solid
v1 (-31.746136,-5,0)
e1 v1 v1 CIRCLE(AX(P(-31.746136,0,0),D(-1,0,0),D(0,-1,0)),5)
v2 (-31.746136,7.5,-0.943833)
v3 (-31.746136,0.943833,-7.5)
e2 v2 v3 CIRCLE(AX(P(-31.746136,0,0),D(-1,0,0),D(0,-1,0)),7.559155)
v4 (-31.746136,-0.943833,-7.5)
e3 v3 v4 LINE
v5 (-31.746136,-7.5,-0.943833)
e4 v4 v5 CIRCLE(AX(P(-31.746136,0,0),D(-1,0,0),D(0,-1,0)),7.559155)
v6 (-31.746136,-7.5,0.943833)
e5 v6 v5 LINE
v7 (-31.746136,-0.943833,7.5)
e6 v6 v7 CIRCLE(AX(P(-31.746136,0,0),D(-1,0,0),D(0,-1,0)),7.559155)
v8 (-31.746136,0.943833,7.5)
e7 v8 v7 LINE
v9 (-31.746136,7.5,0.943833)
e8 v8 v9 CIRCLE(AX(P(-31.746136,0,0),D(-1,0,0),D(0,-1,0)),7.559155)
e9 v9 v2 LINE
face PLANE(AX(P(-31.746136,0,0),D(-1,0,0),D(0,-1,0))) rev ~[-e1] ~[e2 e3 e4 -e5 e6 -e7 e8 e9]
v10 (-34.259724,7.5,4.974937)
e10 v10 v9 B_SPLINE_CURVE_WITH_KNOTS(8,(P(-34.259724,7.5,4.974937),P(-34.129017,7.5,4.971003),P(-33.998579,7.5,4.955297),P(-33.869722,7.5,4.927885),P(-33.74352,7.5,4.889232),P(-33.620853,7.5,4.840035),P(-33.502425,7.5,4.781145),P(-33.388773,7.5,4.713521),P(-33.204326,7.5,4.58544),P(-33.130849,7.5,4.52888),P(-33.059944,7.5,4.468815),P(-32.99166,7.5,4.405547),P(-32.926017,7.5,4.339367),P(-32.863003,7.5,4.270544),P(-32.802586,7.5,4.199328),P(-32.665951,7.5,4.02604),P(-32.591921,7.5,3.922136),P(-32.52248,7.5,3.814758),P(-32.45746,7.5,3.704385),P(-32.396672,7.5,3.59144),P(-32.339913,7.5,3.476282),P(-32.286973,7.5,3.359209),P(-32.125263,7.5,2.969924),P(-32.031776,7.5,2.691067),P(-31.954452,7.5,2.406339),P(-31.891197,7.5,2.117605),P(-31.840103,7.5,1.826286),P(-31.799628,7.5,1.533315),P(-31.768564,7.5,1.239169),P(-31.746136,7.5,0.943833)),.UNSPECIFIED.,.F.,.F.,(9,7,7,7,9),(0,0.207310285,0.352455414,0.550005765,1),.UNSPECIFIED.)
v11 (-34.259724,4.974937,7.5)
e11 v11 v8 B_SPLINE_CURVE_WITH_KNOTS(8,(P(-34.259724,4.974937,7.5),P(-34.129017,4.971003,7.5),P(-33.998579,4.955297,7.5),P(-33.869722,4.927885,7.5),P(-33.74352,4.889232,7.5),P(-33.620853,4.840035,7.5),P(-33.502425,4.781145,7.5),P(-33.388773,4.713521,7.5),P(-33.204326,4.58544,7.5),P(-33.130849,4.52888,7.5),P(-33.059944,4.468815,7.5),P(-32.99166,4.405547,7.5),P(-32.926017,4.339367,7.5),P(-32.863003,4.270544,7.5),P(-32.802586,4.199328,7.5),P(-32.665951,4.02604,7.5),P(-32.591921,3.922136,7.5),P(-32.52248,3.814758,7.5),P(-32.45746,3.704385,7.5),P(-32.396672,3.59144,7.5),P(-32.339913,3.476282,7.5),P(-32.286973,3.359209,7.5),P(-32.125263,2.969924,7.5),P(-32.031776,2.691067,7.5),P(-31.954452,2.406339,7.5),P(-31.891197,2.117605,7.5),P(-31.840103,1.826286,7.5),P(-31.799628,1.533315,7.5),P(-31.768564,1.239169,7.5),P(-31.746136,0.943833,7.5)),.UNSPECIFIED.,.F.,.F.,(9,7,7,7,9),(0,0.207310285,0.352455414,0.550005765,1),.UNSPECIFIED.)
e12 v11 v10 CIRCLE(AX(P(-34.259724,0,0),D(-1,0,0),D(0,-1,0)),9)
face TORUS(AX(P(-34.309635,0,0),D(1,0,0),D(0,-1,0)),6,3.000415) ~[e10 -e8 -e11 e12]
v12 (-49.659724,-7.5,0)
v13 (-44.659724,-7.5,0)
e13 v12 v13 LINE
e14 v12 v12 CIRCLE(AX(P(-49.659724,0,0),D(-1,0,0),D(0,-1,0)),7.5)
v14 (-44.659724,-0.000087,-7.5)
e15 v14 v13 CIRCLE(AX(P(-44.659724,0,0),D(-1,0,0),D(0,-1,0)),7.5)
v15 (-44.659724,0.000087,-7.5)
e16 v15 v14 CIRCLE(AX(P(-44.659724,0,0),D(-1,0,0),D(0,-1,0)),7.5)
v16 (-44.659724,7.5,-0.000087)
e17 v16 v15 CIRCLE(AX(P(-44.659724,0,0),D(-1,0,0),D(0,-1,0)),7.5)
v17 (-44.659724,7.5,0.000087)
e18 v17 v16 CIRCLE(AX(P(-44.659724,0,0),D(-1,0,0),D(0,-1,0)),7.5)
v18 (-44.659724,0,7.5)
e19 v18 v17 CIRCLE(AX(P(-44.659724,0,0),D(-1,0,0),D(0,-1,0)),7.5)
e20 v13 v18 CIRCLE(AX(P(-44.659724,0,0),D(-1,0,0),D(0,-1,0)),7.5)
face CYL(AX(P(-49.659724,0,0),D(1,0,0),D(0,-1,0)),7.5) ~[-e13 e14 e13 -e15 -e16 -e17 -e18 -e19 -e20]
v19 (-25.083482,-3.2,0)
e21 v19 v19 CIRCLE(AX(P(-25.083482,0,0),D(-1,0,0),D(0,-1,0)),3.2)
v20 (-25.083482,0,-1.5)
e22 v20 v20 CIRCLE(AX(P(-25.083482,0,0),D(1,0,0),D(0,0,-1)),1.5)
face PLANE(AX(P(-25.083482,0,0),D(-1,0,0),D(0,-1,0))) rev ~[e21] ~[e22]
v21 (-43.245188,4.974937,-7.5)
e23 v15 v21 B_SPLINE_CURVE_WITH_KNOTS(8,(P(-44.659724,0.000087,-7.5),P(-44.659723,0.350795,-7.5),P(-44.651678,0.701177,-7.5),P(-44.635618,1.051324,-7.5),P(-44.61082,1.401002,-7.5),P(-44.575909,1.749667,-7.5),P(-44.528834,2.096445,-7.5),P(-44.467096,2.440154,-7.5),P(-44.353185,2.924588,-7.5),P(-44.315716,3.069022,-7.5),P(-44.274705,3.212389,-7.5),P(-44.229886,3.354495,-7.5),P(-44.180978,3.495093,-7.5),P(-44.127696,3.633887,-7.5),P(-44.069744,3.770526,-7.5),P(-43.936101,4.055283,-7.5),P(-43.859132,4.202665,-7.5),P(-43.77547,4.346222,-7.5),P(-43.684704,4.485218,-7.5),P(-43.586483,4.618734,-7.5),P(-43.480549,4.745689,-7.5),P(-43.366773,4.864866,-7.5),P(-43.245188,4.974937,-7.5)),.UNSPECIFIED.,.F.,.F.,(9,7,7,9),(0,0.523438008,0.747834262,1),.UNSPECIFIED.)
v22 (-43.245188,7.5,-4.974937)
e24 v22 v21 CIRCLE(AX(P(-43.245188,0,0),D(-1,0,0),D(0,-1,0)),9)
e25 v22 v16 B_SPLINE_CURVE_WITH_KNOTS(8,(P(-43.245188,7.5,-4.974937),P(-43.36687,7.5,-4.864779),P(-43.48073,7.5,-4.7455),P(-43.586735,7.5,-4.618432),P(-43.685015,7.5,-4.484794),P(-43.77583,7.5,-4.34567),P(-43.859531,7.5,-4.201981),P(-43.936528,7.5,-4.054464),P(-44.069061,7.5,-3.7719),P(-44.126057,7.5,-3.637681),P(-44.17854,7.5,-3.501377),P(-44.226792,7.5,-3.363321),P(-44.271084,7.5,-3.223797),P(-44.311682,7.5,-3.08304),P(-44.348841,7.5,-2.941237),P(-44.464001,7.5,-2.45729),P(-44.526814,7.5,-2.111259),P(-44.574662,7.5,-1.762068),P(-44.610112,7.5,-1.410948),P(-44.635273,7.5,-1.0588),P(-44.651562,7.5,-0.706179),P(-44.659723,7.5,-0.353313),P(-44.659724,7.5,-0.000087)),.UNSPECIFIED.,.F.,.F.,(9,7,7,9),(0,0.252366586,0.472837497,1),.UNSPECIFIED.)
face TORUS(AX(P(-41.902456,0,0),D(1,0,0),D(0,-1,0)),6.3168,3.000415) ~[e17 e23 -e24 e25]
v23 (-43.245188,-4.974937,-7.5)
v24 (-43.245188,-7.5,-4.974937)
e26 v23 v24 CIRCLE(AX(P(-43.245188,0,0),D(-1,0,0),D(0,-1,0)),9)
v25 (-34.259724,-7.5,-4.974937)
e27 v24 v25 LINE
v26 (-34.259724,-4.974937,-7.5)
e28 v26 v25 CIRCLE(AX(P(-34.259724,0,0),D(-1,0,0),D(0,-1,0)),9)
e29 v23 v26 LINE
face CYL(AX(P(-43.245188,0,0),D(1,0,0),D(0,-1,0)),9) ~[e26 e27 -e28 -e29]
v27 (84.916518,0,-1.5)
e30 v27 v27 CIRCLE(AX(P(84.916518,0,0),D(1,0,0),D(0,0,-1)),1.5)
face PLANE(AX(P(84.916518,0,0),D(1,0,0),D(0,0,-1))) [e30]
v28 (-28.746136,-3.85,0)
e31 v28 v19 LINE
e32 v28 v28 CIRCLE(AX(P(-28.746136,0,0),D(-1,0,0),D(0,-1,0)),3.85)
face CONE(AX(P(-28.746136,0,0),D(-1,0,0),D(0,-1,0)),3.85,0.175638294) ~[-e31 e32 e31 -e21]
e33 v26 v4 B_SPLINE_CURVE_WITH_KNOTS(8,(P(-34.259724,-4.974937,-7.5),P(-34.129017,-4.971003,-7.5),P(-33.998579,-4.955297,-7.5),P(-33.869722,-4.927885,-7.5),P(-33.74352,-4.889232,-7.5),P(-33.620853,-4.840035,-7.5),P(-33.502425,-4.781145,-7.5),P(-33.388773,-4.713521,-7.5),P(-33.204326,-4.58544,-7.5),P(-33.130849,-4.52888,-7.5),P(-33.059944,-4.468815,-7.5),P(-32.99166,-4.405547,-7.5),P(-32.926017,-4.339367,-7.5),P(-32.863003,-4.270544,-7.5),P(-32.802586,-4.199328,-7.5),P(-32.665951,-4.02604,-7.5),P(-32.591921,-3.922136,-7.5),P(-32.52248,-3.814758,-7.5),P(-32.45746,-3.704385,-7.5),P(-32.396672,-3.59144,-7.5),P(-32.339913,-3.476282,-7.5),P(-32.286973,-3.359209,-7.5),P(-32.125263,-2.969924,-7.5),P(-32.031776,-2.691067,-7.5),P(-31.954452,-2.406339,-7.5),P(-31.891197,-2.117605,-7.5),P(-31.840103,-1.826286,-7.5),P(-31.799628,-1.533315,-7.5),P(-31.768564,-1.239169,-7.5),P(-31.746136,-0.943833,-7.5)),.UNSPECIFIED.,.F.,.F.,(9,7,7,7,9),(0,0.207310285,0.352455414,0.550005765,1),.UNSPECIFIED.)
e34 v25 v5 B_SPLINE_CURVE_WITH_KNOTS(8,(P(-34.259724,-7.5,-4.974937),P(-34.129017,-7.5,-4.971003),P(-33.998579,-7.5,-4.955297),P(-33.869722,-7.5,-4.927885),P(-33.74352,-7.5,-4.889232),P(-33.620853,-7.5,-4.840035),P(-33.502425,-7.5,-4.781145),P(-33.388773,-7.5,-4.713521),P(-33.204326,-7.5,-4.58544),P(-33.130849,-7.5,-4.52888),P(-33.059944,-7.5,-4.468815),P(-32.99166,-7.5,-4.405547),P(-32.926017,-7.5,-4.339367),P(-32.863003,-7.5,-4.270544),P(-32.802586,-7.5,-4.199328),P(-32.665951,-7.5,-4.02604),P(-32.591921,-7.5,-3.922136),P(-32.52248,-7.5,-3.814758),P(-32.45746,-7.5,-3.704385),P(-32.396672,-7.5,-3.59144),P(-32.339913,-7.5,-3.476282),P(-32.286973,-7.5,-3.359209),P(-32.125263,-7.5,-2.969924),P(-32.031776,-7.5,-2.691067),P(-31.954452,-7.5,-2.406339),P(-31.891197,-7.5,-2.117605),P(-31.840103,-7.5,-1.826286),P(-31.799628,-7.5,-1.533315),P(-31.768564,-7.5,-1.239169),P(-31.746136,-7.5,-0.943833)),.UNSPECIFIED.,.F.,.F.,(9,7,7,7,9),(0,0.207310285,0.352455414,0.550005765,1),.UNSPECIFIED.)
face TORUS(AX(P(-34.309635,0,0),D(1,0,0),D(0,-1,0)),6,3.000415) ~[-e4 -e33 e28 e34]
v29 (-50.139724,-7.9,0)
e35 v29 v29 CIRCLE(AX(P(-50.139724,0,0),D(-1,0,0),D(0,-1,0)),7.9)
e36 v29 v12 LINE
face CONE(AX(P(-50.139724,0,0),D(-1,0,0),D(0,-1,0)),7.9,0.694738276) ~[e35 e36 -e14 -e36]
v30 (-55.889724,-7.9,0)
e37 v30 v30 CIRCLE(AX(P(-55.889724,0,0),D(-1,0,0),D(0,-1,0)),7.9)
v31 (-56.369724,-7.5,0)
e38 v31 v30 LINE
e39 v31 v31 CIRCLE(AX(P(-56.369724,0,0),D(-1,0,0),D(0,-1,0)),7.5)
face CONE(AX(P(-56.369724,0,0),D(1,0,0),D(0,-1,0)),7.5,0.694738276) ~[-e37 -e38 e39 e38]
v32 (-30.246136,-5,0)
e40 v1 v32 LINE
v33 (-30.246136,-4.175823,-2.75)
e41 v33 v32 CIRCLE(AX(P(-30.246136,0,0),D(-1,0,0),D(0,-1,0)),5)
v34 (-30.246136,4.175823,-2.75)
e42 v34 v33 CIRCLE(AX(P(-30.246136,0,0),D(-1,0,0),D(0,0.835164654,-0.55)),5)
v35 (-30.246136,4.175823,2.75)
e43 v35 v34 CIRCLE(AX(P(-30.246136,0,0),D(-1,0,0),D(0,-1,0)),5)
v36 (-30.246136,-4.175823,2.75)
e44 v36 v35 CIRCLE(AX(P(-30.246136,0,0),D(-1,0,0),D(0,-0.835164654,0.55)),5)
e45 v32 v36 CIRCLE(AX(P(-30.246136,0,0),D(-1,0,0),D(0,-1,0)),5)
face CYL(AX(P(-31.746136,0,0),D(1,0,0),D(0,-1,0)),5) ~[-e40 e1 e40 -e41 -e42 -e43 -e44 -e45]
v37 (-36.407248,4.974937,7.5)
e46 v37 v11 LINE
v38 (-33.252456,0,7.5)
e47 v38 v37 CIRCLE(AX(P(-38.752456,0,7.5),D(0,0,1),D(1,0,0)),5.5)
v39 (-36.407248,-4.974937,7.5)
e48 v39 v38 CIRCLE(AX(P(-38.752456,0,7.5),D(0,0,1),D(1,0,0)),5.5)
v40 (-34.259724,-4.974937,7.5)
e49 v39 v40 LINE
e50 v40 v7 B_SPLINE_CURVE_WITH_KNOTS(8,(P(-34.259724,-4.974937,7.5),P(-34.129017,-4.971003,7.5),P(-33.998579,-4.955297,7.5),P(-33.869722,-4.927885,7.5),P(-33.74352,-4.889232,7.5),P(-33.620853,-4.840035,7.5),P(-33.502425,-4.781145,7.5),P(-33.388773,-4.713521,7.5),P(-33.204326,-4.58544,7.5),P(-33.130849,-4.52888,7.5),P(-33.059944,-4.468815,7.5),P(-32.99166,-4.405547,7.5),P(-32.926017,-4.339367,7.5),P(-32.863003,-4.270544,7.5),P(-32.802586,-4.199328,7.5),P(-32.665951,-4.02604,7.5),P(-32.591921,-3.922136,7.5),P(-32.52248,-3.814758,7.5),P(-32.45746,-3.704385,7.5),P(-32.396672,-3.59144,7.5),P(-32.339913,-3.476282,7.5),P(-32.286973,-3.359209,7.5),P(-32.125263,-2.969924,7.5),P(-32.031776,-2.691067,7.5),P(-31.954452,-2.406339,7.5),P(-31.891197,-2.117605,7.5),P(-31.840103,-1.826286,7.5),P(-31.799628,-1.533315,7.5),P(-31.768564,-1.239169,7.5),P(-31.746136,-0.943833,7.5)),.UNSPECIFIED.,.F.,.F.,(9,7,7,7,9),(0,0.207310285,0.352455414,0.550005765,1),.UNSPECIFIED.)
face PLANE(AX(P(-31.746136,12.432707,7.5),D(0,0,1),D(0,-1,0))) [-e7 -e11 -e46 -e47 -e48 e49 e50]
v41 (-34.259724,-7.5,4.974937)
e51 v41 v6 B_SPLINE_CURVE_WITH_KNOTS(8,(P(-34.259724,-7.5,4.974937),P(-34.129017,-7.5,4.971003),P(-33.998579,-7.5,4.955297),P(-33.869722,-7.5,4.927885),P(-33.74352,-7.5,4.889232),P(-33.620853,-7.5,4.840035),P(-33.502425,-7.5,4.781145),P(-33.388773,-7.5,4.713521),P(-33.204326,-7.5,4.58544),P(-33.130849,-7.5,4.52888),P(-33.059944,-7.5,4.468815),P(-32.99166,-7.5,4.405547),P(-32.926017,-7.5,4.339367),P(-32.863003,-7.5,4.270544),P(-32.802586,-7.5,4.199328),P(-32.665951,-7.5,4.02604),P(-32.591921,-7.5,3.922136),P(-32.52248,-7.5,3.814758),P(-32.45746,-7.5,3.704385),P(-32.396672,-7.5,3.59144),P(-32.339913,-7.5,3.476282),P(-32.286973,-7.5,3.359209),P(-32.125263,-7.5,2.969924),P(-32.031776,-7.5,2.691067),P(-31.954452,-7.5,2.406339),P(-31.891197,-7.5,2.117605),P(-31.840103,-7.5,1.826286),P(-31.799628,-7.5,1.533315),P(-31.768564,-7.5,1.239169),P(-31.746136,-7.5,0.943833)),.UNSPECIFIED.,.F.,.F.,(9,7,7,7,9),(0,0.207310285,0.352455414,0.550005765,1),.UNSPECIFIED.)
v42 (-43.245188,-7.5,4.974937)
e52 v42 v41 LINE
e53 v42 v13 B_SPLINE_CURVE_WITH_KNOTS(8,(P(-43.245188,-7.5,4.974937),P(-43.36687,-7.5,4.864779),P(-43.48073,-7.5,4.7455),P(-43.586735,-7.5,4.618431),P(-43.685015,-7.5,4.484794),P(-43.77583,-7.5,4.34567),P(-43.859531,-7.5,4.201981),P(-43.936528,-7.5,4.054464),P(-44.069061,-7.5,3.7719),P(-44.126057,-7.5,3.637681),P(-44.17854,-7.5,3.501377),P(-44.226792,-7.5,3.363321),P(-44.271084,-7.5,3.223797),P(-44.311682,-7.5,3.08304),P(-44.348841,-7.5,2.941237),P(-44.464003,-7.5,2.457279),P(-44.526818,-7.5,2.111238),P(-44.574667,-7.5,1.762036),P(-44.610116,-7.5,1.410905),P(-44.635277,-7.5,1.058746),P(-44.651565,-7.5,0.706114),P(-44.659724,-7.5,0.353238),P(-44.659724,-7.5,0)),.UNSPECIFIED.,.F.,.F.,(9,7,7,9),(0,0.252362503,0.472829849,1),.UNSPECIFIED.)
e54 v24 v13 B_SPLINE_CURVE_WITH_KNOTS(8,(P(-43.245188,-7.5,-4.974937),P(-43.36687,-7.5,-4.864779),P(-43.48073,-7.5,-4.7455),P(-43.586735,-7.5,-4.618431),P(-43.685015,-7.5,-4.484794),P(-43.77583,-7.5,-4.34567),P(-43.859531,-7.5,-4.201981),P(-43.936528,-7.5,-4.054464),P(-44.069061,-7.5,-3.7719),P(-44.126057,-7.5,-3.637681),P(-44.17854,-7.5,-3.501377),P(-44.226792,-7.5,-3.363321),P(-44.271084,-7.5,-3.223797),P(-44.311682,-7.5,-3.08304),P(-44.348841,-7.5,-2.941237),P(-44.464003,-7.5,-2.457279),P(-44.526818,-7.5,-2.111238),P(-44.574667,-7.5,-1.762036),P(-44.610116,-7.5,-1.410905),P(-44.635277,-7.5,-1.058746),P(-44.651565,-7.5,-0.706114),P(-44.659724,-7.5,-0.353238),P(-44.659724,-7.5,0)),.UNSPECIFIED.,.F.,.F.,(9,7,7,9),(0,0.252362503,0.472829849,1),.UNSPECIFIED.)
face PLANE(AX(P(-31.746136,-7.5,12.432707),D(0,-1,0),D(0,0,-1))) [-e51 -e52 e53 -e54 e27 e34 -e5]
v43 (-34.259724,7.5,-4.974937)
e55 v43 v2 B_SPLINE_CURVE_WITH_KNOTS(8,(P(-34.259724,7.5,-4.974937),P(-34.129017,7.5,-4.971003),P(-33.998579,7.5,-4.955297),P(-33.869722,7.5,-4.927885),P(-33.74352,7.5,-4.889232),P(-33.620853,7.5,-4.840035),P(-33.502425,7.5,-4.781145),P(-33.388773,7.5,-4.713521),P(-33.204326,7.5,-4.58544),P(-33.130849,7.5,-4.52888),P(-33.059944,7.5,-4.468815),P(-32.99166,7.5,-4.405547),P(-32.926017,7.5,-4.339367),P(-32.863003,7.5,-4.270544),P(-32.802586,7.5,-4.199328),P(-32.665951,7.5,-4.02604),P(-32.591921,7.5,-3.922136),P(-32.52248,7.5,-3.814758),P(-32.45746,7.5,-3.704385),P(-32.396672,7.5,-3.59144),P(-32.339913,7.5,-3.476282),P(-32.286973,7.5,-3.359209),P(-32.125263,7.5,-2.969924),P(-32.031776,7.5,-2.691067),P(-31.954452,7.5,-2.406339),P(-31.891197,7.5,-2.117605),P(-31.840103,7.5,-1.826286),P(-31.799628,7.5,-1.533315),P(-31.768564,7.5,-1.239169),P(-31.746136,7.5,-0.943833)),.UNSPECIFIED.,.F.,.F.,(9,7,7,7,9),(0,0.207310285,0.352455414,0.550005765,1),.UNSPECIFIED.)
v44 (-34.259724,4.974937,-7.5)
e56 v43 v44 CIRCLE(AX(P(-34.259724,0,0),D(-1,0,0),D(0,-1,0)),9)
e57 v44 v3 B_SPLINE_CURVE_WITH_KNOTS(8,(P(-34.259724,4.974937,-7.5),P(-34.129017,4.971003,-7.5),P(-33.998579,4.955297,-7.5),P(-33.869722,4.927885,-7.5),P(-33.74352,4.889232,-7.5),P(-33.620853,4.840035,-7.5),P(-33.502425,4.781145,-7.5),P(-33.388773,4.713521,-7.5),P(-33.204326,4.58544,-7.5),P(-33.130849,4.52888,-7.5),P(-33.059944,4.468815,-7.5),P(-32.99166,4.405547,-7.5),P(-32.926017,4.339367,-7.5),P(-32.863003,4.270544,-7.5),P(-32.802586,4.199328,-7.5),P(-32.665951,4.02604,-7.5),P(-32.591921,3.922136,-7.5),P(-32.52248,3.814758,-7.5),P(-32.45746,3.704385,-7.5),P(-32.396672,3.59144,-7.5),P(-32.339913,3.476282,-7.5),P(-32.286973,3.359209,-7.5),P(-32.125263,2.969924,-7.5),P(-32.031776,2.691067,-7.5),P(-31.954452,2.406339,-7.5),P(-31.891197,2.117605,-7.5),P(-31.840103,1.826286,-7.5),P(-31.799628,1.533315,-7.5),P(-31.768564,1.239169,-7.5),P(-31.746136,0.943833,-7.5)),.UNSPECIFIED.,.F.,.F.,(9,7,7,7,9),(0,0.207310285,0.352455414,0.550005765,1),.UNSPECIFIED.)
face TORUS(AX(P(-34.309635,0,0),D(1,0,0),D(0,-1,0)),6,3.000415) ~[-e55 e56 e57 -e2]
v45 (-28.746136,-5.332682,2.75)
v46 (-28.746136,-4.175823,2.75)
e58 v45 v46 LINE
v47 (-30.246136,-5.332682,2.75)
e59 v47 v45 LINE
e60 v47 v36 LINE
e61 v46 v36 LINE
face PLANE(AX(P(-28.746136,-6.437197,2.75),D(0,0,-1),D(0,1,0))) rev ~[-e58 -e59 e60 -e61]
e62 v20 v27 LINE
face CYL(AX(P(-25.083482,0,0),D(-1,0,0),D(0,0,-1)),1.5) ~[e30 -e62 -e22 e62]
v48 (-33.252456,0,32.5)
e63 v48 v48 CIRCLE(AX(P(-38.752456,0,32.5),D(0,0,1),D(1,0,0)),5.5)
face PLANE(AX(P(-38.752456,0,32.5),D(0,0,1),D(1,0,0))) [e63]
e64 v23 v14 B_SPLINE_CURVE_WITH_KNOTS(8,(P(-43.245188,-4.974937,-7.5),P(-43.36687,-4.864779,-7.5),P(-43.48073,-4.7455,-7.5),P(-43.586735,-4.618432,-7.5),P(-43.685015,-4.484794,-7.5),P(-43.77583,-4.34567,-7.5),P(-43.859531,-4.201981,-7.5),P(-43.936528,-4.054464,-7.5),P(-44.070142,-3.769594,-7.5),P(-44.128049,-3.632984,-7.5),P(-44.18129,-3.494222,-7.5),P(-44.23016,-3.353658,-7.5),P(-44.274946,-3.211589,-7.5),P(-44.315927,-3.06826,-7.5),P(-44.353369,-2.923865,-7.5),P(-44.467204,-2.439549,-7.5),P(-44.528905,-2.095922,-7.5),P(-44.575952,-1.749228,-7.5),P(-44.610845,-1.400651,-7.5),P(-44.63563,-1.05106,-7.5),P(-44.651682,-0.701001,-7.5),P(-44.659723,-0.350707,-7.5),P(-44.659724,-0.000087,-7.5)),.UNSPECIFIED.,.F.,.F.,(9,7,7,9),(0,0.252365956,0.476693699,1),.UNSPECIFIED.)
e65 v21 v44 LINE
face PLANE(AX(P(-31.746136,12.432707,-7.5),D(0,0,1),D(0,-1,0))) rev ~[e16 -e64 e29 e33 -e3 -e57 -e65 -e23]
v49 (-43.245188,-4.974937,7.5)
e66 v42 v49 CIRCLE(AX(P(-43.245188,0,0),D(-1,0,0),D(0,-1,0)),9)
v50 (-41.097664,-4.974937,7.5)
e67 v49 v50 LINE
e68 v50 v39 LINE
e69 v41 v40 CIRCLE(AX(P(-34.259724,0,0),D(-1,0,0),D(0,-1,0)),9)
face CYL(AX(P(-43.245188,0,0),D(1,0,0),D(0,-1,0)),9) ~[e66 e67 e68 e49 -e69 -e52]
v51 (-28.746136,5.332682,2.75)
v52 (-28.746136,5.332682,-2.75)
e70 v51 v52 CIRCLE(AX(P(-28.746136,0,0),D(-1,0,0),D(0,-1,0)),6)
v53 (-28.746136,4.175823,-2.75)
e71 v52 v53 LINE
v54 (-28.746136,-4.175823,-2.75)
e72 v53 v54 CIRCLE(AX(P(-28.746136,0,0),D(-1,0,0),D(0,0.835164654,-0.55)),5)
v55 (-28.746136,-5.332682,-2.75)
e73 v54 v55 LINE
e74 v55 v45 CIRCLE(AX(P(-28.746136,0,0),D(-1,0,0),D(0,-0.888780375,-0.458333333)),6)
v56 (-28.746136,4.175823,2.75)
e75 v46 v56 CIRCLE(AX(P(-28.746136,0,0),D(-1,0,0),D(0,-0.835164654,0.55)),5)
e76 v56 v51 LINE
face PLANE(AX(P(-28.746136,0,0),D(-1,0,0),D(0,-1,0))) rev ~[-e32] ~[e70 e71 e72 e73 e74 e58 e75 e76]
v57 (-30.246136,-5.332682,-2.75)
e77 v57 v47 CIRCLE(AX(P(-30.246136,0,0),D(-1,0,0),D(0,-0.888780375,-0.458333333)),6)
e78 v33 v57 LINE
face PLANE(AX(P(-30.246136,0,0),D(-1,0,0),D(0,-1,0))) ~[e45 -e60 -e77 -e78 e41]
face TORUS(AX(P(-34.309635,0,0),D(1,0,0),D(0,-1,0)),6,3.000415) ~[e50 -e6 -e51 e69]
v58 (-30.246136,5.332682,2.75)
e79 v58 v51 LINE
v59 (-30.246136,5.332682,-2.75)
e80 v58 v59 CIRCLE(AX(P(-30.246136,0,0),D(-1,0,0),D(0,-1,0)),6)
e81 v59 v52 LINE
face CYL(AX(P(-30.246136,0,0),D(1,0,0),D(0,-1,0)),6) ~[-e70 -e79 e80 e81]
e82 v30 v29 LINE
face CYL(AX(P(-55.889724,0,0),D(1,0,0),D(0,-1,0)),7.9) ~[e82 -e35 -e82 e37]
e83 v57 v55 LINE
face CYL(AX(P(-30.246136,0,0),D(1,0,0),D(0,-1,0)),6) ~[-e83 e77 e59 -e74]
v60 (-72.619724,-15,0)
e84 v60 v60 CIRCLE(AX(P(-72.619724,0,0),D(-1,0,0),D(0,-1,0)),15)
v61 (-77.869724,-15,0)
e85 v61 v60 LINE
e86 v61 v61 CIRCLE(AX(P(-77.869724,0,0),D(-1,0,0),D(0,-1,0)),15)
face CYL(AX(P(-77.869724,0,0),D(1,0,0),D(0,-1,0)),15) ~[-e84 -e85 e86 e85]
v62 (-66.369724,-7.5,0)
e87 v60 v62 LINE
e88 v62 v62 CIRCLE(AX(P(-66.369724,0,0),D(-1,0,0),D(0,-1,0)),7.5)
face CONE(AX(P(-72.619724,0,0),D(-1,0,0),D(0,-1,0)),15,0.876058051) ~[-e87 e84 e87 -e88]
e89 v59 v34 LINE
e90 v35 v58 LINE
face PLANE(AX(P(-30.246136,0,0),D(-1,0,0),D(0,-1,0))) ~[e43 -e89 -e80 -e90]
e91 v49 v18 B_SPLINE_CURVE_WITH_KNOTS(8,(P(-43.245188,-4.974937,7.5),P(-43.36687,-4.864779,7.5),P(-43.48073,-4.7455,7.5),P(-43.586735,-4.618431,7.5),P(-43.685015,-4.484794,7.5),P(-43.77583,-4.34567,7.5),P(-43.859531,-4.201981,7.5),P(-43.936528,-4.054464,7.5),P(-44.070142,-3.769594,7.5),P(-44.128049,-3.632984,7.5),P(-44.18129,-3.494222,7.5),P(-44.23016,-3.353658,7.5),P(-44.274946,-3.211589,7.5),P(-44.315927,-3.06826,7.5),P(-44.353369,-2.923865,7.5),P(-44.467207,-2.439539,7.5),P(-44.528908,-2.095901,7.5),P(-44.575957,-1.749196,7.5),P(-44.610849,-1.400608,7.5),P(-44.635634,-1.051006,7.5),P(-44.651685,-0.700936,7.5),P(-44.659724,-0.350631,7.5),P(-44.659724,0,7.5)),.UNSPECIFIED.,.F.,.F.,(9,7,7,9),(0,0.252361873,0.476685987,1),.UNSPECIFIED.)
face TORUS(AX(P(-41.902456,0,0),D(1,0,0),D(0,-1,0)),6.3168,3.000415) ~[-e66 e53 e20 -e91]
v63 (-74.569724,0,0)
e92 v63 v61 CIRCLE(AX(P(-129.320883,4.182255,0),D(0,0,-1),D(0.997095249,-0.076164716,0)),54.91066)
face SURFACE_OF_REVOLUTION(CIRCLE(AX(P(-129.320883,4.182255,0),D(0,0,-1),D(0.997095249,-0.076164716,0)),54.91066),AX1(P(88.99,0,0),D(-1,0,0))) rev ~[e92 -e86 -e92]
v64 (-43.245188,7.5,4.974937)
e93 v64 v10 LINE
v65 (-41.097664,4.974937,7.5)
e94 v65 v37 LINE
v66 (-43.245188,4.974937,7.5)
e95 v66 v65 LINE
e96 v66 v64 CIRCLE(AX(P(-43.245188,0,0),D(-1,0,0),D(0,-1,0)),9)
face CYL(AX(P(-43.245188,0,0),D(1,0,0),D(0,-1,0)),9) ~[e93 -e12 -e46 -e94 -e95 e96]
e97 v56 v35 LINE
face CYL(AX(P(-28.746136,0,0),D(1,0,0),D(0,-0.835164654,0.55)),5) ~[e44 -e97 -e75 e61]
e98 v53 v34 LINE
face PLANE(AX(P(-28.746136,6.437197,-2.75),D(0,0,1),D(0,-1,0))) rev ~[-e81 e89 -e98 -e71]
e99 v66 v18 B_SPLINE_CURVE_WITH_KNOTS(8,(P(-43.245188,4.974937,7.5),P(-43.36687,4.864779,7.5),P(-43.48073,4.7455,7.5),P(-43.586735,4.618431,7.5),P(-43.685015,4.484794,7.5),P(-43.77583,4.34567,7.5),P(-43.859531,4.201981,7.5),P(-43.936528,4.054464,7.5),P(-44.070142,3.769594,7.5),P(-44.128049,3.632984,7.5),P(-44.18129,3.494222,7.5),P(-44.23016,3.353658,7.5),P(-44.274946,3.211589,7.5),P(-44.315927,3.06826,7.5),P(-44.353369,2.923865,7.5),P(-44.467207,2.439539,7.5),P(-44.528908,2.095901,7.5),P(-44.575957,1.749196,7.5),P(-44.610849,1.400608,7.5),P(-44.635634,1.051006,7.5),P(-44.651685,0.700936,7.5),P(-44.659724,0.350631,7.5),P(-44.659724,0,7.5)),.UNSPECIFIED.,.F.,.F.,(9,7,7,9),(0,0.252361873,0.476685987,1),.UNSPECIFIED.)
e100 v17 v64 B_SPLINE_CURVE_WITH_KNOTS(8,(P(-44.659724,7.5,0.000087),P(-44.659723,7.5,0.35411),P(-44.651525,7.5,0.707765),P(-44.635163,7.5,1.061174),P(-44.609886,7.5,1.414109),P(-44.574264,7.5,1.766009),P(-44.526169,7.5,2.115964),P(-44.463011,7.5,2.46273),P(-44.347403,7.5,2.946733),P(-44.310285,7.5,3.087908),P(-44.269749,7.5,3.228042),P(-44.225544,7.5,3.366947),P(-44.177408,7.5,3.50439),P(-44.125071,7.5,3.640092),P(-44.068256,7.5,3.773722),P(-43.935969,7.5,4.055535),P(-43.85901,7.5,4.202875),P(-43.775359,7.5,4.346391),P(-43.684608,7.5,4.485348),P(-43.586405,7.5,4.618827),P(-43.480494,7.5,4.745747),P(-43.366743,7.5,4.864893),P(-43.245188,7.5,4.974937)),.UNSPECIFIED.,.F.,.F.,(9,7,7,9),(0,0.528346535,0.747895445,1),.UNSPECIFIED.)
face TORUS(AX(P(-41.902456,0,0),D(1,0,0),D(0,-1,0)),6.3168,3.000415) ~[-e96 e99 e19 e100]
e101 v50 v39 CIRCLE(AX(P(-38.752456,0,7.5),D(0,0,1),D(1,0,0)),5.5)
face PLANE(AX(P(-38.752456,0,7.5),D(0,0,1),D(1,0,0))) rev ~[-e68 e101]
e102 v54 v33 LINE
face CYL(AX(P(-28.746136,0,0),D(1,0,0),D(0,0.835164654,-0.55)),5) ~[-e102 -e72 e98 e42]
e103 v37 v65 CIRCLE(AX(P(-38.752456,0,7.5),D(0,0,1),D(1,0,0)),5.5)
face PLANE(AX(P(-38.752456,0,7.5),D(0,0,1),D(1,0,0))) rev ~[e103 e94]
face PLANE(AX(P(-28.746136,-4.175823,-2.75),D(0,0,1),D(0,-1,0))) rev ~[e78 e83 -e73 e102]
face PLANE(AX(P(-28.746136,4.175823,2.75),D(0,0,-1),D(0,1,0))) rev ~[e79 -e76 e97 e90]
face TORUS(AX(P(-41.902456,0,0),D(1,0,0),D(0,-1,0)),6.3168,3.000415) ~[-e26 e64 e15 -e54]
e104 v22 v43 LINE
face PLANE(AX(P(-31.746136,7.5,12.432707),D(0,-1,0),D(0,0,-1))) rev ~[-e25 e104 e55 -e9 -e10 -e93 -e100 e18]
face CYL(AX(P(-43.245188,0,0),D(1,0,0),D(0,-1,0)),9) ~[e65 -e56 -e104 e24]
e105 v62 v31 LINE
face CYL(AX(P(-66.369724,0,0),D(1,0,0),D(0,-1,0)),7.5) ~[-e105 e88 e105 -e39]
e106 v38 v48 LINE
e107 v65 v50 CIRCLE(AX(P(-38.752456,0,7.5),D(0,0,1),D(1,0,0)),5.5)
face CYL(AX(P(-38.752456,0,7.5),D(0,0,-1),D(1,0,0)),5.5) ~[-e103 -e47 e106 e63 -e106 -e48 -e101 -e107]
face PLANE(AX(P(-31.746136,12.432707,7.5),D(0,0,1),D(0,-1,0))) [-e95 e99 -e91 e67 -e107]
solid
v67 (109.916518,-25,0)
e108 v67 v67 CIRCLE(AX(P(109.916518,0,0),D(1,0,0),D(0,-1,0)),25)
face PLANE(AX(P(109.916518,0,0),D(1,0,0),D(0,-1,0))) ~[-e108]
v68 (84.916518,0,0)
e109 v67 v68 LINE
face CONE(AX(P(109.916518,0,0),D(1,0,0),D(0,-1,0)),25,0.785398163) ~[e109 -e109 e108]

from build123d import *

# Parameters (mm, degrees)
SKETCH2_W           = 24.86541407
SKETCH2_H           = 5.423229841
SKETCH2_H_2         = 4.001260317
CUT_EXTRUDE1_DEPTH  = 15
CIRPATTERN1_COUNT   = 2
CIRPATTERN1_ANGLE   = 90
CUT_EXTRUDE2_DEPTH  = 1.5
SKETCH4_R           = 5.5
BOSS_EXTRUDE1_DEPTH = 25
SKETCH5_R           = 1.5
BOSS_EXTRUDE2_DEPTH = 110


with BuildPart() as part:
    # Sketch1 → Revolve1 (revolve)
    with BuildSketch(Plane.XY):
        with BuildLine():
            ThreePointArc((-74.569724464, 0), (-75.692690434, -7.615947487), (-77.869724464, -15))
            Line((-77.869724464, -15), (-72.619724464, -15))
            Line((-72.619724464, -15), (-66.369724464, -7.5))
            Line((-66.369724464, -7.5), (-56.369724464, -7.5))
            Line((-56.369724464, -7.5), (-55.889724464, -7.9))
            Line((-55.889724464, -7.9), (-50.139724464, -7.9))
            Line((-50.139724464, -7.9), (-49.659724464, -7.5))
            Line((-49.659724464, -7.5), (-44.659724464, -7.5))
            ThreePointArc((-44.659724464, -7.5), (-44.085344133, -8.375316627), (-43.245187811, -9))
            Line((-43.245187811, -9), (-40.559724464, -9))
            Line((-40.559724464, -9), (-34.259724464, -9))
            ThreePointArc((-34.259724464, -9), (-32.817493666, -8.603076001), (-31.746136172, -7.559154808))
            Line((-31.746136172, -7.559154808), (-31.746136172, -5))
            Line((-31.746136172, -5), (-30.246136172, -5))
            Line((-30.246136172, -5), (-30.246136172, -6))
            Line((-30.246136172, -6), (-28.746136172, -6))
            Line((-28.746136172, -6), (-28.746136172, -3.85))
            Line((-28.746136172, -3.85), (-25.083482145, -3.2))
            Line((-25.083482145, -3.2), (-25.083482145, 0))
            Line((-25.083482145, 0), (-74.569724464, 0))
        make_face()
    revolve(axis=Axis((88.99, 0, 0), (-1, 0, 0)))

    # Sketch2 → Cut-Extrude1 (cut)
    with BuildSketch(Plane(origin=(-31.746136172, 0, 0), x_dir=(0, 0, -1), z_dir=(1, 0, 0))):
        with Locations((0, -10.211614921)):
            Rectangle(SKETCH2_W, SKETCH2_H)
        with Locations((0, 9.500630158)):
            Rectangle(SKETCH2_W, SKETCH2_H_2)
    cut_extrude1 = extrude(amount=-CUT_EXTRUDE1_DEPTH, mode=Mode.SUBTRACT)

    # CirPattern1: Cut-Extrude1 ×2 about axis
    cirpattern1_axis = Axis((88.99, 0, 0), (-1, 0, 0))
    for i in range(1, CIRPATTERN1_COUNT):
        add(cut_extrude1.rotate(cirpattern1_axis, i * CIRPATTERN1_ANGLE / (CIRPATTERN1_COUNT - 1)), mode=Mode.SUBTRACT)

    # Sketch3 → Cut-Extrude2 (cut)
    with BuildSketch(Plane(origin=(-28.746136172, 0, 0), x_dir=(0, 0, -1), z_dir=(1, 0, 0))):
        with BuildLine():
            Line((2.75, -4.175823272), (2.75, -6.437196595))
            Line((2.75, -6.437196595), (5.963766818, -6.437196595))
            Line((5.963766818, -6.437196595), (6.43018781, 6.437196595))
            Line((6.43018781, 6.437196595), (2.75, 6.437196595))
            Line((2.75, 6.437196595), (2.75, 4.175823272))
            ThreePointArc((2.75, 4.175823272), (5, 0), (2.75, -4.175823272))
        make_face()
        with BuildLine():
            Line((-2.75, -6.437196595), (-2.75, -4.175823272))
            ThreePointArc((-2.75, -4.175823272), (-5, 0), (-2.75, 4.175823272))
            Line((-2.75, 4.175823272), (-2.75, 6.437196595))
            Line((-2.75, 6.437196595), (-6.280612264, 6.437196595))
            Line((-6.280612264, 6.437196595), (-6.280612264, -6.437196595))
            Line((-6.280612264, -6.437196595), (-2.75, -6.437196595))
        make_face()
    extrude(amount=-CUT_EXTRUDE2_DEPTH, mode=Mode.SUBTRACT)

    # Sketch4 → Boss-Extrude1 (add)
    with BuildSketch(Plane.XY.offset(7.5)):
        with Locations((-38.752456137, 0)):
            Circle(SKETCH4_R)
    extrude(amount=BOSS_EXTRUDE1_DEPTH)

    # Sketch5 → Boss-Extrude2 (add)
    with BuildSketch(Plane(origin=(-25.083482145, 0, 0), x_dir=(0, 0, -1), z_dir=(1, 0, 0))):
        Circle(SKETCH5_R)
    extrude(amount=BOSS_EXTRUDE2_DEPTH)


with BuildPart() as body_2:
    # Sketch6 → Revolve2 (revolve)
    with BuildSketch(Plane.XY):
        Polygon((84.916517855, 0), (109.916517855, 0), (109.916517855, -25), align=None)
    revolve(axis=Axis((84.916517855, 0, 0), (1, 0, 0)))


solid = Compound([part.part, body_2.part])
